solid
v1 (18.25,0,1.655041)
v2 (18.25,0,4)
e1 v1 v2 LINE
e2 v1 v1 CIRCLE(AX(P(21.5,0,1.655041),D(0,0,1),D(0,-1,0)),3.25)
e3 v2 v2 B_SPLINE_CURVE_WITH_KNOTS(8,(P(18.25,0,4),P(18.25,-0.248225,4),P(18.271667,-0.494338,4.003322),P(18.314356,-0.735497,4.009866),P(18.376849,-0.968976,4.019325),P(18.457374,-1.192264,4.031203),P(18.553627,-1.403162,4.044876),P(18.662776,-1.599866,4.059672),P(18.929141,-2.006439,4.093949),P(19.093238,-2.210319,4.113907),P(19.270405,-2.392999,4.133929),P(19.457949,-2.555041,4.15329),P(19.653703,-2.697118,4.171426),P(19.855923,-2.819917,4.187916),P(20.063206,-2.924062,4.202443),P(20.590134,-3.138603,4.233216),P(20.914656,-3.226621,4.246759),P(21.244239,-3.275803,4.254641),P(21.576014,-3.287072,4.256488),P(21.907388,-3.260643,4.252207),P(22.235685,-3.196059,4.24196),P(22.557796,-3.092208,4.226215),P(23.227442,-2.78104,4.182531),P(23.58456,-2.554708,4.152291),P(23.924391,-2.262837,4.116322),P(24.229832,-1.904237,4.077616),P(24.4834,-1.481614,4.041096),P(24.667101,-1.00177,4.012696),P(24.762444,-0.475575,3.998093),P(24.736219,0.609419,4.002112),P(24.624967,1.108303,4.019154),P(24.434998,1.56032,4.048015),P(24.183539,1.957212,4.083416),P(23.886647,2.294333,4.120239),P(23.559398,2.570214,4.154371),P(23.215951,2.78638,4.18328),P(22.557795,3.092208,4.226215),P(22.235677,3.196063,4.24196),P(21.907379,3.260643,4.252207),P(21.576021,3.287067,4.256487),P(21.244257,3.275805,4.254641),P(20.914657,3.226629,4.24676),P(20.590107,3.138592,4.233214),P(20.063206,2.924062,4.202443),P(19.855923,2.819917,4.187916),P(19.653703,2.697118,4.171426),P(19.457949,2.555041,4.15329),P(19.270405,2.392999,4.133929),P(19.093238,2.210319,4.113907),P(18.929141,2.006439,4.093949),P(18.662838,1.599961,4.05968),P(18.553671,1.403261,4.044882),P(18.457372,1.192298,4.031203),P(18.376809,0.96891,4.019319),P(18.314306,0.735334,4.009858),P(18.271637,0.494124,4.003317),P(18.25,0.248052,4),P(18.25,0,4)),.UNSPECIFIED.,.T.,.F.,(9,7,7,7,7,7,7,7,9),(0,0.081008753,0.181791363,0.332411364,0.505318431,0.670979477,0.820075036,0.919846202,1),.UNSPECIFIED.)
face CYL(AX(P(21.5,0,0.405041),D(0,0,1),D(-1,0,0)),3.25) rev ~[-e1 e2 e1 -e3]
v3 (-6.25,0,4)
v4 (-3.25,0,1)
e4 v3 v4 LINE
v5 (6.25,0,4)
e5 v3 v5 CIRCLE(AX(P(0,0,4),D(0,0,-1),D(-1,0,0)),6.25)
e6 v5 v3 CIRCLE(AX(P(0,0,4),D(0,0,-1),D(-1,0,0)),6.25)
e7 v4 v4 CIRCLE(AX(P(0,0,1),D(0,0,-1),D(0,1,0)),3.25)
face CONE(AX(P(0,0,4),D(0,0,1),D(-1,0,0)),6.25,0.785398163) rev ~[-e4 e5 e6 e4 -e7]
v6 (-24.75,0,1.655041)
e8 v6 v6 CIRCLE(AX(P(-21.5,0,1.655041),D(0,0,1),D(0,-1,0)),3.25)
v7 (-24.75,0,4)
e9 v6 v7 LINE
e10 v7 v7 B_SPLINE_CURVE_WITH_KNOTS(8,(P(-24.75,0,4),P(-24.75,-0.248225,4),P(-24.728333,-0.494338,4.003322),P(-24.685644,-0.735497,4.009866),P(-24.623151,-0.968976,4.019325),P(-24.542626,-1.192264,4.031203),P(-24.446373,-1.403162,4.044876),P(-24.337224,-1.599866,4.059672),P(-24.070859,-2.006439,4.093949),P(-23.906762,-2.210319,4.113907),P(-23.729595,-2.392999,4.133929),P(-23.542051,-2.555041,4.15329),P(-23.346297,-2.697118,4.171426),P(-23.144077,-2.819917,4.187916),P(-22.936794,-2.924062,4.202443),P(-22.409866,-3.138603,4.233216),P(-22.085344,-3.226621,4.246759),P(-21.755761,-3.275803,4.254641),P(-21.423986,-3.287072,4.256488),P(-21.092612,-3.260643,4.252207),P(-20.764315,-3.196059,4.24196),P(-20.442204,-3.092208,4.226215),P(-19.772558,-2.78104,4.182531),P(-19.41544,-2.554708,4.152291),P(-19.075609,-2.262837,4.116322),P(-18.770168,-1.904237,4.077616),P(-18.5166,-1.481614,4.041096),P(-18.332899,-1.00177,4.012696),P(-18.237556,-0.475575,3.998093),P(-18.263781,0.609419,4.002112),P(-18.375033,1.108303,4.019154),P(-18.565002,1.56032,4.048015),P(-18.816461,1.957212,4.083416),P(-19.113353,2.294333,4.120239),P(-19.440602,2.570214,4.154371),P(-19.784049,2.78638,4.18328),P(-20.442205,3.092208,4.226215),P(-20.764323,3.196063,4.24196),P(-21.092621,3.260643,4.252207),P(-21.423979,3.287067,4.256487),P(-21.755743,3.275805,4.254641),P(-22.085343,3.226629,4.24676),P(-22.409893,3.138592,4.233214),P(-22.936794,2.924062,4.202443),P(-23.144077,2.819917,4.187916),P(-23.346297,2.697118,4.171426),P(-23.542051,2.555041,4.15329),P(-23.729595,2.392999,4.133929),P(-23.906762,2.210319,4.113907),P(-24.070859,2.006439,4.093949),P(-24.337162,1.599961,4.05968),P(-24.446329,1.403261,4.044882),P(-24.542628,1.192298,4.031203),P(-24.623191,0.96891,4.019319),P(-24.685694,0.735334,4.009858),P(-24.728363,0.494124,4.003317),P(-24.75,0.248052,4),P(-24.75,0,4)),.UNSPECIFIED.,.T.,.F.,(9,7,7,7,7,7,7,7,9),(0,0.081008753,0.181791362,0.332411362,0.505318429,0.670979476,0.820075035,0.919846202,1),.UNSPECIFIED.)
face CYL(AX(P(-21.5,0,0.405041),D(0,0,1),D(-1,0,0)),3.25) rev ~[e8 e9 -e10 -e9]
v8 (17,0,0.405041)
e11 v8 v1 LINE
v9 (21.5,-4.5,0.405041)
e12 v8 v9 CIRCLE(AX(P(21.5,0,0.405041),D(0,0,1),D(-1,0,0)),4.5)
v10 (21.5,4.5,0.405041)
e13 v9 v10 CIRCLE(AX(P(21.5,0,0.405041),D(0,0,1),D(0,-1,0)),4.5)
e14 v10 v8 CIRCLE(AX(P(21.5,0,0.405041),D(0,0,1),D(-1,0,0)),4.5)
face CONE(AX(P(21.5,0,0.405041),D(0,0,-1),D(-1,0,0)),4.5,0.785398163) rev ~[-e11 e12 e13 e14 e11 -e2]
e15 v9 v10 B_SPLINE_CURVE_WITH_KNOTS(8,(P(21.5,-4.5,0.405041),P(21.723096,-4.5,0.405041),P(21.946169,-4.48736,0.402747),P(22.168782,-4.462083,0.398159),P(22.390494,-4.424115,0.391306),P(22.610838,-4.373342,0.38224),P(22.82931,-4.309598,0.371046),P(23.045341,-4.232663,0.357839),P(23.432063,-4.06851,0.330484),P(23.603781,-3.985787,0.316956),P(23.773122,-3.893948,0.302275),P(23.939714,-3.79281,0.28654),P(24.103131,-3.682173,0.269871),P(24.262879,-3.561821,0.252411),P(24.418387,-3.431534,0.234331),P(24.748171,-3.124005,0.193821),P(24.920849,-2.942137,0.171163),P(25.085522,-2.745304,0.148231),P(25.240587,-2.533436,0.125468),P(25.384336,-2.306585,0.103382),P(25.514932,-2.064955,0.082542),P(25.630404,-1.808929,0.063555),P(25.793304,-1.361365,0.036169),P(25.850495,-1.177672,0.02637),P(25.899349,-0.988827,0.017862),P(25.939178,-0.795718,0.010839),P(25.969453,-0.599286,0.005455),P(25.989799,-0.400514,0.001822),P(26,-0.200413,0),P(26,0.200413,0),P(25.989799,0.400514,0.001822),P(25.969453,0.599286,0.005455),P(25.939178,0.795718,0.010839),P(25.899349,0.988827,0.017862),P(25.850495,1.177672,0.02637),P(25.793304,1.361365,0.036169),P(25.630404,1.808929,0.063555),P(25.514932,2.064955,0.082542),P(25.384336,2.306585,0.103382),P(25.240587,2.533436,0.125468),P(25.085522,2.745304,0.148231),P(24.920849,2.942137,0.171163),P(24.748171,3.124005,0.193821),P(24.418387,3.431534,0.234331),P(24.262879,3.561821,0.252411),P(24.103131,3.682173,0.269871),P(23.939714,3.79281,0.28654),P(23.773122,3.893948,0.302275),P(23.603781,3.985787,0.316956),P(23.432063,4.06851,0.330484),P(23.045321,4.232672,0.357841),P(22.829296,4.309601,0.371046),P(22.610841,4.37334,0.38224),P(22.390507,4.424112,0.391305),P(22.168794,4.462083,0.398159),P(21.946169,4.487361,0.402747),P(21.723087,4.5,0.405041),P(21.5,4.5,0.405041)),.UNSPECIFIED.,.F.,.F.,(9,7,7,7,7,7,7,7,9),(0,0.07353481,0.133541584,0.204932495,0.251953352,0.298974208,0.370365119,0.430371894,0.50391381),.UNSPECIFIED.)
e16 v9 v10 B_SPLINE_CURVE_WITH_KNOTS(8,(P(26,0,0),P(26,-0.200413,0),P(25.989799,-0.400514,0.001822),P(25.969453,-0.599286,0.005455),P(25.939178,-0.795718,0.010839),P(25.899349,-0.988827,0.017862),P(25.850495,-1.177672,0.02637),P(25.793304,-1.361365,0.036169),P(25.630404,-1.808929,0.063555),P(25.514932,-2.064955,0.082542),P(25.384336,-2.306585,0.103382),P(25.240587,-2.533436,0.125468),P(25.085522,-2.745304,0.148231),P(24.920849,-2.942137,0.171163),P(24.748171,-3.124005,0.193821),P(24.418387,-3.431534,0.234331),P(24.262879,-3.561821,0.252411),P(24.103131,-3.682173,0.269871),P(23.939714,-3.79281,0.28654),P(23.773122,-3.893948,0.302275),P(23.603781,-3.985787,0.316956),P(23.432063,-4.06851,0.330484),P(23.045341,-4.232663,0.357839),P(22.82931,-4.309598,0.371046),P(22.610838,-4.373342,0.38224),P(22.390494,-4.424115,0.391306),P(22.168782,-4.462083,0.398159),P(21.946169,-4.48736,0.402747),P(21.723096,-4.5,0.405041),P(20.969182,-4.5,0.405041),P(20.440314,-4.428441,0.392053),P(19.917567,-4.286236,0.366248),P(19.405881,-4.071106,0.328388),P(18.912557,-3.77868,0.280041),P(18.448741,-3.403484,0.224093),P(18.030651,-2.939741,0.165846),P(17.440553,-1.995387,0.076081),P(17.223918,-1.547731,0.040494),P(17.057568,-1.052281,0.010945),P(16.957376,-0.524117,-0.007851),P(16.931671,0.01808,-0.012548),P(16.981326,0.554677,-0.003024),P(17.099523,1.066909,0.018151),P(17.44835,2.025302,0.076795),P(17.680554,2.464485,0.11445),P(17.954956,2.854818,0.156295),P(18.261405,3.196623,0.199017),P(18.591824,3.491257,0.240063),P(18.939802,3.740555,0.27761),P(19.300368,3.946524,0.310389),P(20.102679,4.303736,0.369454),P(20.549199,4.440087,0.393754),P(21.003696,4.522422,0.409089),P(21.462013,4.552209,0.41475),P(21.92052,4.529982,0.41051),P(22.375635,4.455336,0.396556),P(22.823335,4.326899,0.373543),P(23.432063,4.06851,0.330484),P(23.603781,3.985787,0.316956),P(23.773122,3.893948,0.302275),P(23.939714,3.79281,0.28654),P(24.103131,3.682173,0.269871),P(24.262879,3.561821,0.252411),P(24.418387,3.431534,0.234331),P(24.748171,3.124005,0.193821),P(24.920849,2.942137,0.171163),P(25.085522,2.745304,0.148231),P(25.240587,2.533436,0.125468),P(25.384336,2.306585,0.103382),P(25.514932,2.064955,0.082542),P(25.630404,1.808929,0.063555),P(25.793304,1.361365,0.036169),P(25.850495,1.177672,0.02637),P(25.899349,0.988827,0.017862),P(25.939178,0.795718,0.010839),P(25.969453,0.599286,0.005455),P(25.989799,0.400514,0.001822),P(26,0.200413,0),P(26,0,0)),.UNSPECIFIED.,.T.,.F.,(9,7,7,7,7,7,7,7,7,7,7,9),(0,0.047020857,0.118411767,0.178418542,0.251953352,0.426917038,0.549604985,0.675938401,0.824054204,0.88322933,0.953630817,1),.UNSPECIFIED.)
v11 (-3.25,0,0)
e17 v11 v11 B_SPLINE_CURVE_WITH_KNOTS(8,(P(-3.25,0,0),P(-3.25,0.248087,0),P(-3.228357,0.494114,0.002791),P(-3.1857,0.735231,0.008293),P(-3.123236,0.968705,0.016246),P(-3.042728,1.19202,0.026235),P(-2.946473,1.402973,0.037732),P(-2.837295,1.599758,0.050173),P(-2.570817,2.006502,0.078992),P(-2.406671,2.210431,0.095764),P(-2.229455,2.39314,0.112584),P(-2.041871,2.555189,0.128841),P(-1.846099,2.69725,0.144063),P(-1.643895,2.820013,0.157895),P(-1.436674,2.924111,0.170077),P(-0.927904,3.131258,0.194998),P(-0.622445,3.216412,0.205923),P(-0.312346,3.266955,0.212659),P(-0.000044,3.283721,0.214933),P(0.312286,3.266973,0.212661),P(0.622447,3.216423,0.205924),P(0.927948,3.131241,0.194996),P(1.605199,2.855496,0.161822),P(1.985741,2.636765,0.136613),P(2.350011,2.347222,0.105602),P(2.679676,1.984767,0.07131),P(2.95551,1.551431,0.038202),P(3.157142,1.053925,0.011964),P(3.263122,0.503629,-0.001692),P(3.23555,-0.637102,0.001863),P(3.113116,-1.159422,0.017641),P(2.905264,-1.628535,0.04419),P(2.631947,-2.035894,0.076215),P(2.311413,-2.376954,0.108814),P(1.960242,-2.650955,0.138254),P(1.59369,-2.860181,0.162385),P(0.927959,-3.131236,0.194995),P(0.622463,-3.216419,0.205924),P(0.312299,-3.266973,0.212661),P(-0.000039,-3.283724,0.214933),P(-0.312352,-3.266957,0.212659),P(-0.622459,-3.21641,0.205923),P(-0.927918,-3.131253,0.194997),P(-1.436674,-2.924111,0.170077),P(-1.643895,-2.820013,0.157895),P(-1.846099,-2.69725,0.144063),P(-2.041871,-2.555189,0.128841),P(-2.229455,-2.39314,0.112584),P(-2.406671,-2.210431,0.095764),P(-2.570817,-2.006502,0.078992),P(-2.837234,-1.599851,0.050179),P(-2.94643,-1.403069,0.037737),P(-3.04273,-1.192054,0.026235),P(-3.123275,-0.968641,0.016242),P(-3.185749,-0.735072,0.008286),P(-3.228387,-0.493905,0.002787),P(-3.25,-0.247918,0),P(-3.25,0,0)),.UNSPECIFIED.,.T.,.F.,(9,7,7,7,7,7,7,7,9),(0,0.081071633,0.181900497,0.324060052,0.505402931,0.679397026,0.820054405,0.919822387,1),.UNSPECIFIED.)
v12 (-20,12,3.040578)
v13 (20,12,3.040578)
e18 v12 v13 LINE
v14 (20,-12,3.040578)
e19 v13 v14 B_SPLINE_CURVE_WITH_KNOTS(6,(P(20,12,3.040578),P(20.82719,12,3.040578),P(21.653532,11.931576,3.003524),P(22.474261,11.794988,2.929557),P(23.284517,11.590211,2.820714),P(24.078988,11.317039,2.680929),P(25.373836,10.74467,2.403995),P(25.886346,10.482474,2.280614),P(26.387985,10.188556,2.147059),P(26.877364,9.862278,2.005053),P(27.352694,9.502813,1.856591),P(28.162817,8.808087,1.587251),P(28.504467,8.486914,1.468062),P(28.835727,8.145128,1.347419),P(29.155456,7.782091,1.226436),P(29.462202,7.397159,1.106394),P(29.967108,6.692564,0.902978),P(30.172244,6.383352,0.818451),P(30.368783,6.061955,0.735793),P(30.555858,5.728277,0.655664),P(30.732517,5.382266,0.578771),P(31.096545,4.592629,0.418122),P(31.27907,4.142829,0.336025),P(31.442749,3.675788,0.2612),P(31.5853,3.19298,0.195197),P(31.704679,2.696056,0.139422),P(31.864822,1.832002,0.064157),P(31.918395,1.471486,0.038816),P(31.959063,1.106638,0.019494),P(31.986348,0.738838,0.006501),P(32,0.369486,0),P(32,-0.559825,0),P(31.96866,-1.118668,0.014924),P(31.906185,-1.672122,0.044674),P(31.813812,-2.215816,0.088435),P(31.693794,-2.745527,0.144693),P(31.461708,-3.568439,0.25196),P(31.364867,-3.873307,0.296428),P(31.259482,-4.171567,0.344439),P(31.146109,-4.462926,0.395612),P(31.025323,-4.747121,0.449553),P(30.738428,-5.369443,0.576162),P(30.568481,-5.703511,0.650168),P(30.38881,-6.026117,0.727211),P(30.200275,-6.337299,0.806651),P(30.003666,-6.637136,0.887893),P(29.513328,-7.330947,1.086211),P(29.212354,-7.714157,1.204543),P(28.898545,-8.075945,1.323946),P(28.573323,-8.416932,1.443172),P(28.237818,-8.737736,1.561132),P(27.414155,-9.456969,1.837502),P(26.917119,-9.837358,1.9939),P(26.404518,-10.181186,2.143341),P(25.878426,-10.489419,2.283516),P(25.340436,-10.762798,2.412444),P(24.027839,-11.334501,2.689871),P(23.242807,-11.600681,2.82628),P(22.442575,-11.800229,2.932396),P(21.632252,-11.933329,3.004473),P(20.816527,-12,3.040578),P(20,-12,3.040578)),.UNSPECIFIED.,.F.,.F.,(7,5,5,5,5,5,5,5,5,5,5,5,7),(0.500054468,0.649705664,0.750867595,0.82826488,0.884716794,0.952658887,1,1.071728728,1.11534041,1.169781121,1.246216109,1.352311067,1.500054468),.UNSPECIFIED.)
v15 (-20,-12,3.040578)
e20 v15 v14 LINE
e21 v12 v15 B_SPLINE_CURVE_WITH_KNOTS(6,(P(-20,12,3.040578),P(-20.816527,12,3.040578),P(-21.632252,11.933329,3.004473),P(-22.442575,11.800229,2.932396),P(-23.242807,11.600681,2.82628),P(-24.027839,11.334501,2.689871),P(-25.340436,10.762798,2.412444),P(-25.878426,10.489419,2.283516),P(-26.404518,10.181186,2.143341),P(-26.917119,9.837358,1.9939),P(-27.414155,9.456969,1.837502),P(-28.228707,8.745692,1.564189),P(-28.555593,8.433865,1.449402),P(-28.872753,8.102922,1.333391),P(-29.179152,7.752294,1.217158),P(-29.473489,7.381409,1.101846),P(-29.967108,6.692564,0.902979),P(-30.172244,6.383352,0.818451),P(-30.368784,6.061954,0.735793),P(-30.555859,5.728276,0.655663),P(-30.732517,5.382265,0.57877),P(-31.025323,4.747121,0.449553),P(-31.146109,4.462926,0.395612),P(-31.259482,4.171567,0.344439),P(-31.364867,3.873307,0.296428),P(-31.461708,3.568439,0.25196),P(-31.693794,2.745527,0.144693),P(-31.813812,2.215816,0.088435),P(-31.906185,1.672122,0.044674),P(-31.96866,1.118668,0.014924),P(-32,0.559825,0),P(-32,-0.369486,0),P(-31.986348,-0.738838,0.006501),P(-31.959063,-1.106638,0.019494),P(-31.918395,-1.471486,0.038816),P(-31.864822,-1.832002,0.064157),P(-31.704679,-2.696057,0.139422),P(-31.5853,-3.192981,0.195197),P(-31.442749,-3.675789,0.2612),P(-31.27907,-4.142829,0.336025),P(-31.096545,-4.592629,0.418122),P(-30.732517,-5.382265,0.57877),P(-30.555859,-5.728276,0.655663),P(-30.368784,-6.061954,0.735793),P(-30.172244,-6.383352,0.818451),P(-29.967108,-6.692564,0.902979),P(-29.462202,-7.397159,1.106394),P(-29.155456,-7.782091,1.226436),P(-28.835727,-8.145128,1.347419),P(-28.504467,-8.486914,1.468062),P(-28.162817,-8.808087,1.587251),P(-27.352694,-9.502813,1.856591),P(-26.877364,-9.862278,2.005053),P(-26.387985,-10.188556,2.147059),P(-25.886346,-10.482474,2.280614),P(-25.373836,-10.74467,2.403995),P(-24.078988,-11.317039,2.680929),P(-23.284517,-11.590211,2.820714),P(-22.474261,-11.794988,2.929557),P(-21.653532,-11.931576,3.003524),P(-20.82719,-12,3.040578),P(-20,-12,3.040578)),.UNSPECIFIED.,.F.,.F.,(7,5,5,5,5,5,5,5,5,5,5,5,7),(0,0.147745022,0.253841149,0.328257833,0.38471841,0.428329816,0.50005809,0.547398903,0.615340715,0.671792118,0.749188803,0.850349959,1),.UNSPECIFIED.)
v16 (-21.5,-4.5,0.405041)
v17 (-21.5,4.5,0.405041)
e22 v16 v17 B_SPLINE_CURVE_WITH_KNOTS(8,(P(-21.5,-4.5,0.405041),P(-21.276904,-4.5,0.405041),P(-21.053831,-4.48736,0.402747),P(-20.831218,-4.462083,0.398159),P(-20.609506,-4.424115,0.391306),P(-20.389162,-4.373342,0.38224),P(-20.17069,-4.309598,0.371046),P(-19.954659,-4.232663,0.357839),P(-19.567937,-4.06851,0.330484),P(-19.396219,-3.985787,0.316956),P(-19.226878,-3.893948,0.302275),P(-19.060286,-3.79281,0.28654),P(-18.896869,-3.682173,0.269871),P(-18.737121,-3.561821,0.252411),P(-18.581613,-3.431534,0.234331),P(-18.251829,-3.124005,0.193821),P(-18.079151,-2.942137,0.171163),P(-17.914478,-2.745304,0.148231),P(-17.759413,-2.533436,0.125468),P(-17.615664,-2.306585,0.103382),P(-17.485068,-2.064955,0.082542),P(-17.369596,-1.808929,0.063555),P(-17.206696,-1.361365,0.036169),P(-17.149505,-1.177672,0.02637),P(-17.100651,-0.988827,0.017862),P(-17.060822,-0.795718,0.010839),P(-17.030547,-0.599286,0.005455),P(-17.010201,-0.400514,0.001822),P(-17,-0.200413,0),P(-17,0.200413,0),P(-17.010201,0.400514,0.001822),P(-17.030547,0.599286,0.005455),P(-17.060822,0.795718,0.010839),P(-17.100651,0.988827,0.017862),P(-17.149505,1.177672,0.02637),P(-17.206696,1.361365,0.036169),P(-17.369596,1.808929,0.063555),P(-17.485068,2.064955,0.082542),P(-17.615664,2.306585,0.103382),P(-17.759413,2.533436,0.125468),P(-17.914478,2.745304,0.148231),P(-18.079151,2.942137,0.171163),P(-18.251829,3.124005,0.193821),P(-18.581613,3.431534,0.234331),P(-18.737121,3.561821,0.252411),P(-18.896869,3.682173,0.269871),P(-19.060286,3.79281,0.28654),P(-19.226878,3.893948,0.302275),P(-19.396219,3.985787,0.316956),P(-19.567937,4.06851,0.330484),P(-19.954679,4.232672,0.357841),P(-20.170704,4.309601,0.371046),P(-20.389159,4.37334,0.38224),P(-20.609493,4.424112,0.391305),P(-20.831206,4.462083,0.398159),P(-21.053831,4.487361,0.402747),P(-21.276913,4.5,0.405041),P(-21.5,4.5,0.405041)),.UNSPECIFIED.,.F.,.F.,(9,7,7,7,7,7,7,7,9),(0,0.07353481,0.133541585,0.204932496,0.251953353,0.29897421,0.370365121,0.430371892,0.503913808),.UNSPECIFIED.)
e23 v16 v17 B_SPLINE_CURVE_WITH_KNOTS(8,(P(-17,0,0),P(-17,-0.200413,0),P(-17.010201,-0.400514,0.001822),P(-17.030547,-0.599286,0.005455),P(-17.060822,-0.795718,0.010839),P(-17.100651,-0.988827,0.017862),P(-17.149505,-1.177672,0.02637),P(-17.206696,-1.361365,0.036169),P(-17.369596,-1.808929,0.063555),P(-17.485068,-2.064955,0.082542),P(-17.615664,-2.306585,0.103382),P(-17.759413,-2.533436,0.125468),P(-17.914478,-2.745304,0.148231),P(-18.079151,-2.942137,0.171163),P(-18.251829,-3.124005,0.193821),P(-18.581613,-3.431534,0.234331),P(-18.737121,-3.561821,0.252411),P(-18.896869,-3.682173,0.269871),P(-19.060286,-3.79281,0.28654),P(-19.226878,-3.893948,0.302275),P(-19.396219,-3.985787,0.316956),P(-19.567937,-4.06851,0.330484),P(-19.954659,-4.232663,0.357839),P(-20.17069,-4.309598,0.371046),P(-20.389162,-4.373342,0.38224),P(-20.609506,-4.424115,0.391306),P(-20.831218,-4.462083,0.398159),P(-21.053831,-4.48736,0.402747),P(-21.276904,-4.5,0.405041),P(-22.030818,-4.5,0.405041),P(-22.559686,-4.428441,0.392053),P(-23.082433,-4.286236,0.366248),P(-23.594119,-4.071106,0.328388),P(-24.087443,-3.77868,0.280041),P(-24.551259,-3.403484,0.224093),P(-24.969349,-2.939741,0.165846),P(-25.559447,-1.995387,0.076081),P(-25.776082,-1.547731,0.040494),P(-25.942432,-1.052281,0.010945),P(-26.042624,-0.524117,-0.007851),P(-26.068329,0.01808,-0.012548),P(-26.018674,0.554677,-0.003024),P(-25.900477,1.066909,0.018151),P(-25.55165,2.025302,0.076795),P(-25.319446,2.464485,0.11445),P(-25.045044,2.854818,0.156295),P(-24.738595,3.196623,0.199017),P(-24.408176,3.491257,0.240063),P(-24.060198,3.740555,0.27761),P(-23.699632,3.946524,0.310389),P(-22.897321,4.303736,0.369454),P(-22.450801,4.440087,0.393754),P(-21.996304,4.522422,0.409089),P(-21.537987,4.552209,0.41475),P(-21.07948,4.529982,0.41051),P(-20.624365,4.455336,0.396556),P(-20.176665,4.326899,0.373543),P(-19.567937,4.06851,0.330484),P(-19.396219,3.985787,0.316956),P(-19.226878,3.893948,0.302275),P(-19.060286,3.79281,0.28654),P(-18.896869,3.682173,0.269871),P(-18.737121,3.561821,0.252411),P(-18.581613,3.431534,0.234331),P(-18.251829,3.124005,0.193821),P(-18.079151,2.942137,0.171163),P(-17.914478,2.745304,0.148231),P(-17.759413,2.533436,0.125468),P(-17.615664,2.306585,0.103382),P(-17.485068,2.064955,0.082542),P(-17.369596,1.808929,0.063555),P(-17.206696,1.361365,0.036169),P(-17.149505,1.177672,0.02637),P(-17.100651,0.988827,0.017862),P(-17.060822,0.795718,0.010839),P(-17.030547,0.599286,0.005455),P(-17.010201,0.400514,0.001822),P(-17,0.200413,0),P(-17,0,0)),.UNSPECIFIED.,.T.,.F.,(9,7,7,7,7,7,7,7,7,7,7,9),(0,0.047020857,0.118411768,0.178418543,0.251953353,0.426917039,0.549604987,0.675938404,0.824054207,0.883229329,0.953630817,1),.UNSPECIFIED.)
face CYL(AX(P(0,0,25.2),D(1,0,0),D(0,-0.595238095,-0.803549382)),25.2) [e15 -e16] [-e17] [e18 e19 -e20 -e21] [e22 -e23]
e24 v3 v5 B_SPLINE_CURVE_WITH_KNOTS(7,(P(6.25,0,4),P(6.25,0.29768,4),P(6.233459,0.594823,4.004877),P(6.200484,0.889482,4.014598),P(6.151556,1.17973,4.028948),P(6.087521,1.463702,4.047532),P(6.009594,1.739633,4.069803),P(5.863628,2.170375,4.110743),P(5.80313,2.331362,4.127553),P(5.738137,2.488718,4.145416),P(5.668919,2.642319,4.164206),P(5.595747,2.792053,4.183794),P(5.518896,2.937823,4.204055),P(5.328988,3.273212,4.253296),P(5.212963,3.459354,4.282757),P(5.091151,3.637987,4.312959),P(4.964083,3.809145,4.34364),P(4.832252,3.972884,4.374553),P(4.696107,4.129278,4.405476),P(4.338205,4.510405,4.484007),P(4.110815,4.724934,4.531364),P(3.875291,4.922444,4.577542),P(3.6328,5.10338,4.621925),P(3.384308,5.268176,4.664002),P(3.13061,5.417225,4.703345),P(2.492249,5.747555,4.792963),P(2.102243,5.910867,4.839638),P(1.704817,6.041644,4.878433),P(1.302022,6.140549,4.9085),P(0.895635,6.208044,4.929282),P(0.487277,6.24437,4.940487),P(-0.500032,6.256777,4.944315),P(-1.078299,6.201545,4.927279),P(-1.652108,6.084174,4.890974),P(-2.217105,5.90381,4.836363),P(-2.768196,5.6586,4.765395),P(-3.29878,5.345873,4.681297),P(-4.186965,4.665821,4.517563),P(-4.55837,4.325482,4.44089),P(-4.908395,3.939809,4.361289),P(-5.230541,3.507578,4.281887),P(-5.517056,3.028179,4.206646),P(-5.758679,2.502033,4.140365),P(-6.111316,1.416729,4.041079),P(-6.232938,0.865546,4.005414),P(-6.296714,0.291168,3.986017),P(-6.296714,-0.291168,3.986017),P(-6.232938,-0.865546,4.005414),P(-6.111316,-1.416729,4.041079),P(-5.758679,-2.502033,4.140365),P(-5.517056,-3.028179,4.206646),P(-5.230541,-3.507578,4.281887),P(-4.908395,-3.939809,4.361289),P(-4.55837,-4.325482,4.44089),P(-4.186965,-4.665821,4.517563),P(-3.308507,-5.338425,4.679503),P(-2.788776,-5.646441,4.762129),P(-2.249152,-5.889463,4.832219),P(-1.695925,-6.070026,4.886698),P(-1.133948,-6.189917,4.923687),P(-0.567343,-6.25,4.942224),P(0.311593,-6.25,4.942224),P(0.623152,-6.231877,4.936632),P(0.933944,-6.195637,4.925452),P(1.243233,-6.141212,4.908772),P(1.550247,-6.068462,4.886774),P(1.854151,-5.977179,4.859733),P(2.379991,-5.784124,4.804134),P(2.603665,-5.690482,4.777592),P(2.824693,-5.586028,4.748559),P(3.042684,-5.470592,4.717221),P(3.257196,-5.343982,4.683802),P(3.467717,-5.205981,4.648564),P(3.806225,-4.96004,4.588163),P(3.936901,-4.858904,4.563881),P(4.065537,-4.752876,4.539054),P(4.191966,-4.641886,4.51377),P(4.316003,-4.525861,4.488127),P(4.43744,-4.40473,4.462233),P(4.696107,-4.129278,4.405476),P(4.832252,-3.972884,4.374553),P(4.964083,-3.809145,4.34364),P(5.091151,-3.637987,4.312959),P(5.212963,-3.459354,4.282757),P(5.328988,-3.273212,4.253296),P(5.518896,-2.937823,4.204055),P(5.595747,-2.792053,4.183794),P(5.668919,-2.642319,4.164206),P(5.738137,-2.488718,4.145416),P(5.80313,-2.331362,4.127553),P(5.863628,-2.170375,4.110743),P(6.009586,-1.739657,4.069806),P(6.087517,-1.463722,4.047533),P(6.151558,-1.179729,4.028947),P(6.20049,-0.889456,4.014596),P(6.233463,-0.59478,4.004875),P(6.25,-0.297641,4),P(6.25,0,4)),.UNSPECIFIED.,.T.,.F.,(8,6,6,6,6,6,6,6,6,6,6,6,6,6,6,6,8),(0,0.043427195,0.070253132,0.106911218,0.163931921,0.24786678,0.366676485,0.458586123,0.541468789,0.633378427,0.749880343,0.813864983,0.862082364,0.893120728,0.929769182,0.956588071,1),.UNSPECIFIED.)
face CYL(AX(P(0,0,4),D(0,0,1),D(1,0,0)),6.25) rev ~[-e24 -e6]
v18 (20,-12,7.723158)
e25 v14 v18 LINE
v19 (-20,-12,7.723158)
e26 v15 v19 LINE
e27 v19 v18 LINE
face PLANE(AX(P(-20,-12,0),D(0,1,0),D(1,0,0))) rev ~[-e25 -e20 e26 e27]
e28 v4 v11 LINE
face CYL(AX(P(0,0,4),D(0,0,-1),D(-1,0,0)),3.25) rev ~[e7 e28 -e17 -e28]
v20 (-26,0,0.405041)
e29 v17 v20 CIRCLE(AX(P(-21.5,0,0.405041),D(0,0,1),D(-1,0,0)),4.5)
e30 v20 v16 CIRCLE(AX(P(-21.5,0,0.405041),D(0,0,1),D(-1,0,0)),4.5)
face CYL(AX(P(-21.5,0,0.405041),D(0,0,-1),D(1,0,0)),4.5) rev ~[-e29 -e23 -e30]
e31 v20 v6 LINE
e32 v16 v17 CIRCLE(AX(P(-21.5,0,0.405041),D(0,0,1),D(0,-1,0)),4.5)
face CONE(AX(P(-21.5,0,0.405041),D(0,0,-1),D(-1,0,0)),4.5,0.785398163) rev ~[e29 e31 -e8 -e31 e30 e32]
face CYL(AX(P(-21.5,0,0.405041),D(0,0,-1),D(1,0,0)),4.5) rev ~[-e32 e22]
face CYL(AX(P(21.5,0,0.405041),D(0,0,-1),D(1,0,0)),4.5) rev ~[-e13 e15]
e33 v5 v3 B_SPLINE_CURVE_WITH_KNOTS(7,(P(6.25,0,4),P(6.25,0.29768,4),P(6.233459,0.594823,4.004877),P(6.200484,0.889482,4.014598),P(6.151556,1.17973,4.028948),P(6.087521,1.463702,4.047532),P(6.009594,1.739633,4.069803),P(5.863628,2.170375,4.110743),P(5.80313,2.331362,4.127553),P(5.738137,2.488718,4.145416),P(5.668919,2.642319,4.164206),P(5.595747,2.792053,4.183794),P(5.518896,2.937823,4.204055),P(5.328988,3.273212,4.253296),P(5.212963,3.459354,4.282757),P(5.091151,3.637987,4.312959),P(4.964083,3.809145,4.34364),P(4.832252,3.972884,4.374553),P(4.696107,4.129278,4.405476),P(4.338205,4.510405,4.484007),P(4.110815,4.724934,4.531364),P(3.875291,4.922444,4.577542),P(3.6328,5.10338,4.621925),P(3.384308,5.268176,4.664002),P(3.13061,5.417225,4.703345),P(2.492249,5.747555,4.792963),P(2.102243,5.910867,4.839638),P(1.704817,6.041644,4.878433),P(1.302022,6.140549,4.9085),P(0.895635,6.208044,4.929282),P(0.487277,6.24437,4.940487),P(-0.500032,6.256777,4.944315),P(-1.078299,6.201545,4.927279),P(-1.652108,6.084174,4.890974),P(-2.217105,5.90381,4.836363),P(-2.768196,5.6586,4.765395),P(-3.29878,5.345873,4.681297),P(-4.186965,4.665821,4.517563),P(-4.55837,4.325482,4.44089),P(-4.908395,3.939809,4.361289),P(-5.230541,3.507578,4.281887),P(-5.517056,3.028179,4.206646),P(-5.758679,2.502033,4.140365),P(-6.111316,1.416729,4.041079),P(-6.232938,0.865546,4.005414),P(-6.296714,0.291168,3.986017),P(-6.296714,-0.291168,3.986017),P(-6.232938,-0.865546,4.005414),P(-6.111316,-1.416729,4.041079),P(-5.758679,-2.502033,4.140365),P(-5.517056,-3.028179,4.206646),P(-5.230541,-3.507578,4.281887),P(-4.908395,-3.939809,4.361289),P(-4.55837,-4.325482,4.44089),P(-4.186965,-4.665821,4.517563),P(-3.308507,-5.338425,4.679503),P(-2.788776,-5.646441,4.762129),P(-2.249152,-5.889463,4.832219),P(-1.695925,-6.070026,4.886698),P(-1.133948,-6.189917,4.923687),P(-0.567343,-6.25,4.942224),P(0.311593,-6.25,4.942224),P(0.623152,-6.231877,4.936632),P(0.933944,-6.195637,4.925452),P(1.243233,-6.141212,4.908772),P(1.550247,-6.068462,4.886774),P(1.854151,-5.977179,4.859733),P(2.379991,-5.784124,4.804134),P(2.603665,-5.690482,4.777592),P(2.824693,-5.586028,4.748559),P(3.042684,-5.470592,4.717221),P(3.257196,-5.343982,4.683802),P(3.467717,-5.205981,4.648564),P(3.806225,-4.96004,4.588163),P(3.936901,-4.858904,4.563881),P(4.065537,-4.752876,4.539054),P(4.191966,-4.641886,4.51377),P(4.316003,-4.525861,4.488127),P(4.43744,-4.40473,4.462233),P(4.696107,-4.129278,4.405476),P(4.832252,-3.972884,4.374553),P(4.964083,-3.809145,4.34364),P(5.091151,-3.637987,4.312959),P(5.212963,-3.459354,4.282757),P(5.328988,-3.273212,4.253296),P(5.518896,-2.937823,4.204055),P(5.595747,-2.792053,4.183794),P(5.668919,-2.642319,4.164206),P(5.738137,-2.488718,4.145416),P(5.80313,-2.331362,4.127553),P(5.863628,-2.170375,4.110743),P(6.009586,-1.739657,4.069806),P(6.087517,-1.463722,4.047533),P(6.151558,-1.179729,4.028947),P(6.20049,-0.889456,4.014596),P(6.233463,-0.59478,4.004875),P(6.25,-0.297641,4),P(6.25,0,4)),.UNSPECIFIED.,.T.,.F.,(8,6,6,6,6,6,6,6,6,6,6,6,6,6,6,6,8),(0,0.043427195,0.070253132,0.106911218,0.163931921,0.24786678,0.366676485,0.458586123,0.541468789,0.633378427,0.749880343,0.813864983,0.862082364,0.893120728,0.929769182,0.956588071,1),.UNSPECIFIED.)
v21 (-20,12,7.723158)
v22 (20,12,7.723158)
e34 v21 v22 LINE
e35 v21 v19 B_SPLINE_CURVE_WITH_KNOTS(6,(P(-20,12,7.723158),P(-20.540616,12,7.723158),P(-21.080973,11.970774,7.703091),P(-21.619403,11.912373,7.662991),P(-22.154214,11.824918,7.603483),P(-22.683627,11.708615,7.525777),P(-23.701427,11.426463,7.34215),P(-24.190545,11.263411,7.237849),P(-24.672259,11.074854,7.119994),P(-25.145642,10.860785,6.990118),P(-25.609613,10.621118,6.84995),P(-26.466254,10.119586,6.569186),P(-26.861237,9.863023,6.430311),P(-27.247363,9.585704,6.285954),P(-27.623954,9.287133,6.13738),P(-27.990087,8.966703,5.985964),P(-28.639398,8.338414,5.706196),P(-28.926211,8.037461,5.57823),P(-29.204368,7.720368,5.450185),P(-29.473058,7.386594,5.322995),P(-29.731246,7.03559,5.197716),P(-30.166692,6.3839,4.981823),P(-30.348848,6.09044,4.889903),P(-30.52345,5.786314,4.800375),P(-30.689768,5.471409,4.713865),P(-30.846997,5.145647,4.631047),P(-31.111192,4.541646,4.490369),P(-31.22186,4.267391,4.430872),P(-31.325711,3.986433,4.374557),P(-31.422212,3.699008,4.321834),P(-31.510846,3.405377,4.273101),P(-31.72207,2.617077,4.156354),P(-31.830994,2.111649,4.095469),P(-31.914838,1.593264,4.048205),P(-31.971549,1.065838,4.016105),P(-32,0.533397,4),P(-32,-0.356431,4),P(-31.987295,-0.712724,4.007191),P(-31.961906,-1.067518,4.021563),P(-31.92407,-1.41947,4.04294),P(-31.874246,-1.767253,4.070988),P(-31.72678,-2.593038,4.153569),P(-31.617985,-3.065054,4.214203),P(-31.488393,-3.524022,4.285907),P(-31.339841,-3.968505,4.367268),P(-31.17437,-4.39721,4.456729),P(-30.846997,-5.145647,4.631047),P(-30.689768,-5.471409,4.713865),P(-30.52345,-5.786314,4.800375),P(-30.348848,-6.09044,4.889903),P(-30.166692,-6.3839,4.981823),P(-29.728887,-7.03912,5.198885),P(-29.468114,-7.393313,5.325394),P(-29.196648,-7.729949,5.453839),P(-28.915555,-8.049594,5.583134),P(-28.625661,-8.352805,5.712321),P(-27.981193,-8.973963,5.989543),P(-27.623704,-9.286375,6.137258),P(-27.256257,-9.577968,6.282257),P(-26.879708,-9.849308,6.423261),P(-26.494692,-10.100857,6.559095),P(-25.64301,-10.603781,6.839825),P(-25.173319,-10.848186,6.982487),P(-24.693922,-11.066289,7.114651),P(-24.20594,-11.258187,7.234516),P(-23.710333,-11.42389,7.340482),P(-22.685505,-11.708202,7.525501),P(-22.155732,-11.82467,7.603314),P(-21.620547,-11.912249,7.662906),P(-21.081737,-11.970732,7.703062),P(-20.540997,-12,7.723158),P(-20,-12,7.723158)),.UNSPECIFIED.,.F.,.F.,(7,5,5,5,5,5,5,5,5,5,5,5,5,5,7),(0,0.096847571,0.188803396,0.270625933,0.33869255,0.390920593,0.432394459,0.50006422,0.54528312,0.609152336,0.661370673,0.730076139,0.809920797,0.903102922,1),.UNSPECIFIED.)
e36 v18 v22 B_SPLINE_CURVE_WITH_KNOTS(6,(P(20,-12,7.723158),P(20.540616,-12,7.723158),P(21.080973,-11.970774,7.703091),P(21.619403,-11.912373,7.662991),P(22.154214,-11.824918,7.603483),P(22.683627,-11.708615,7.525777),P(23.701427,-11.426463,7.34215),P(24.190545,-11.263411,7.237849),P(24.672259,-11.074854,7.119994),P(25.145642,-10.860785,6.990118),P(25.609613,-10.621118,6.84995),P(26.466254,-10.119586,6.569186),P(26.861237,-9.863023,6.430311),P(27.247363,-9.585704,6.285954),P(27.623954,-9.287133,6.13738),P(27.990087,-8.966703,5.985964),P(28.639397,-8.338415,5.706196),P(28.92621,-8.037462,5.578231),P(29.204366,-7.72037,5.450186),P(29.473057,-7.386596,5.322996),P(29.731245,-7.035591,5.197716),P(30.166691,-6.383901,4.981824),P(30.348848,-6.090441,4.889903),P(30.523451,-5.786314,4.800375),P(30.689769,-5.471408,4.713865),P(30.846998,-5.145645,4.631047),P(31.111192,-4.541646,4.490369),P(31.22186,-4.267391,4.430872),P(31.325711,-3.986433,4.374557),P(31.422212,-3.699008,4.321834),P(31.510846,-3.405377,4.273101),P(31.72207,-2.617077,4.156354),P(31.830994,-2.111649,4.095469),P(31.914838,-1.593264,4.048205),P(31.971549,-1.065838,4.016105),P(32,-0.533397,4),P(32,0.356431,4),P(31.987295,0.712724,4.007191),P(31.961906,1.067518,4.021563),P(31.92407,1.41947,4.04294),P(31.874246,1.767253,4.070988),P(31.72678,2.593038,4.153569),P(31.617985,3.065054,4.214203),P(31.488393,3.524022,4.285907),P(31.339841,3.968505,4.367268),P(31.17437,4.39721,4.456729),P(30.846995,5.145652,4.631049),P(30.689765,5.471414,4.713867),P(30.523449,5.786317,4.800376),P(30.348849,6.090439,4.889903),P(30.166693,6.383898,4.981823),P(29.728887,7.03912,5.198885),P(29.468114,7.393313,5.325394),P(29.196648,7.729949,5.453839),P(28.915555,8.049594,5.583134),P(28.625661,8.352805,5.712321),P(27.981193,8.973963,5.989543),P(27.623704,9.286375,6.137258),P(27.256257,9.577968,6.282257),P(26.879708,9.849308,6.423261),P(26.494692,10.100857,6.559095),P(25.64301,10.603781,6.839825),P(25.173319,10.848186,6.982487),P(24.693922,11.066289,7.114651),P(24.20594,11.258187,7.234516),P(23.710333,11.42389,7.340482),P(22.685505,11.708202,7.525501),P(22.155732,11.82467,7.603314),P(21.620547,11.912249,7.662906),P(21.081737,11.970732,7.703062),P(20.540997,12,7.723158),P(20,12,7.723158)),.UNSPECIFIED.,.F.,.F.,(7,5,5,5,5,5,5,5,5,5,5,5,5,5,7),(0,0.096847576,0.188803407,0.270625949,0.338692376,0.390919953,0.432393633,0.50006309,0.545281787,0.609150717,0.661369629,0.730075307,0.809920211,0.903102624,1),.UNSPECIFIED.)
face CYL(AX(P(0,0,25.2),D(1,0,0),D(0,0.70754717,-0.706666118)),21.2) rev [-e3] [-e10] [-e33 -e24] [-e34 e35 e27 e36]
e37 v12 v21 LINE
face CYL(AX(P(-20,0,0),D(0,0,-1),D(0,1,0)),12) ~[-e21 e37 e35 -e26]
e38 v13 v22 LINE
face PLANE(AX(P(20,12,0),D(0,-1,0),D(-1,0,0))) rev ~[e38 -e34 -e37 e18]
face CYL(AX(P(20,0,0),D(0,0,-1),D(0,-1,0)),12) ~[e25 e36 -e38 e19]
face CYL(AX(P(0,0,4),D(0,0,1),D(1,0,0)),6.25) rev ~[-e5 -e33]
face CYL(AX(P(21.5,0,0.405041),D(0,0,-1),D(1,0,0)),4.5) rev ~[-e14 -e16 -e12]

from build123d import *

# Parameters (mm, degrees)
F1_DEPTH       = 20
F3_DEPTH       = 40
F5_D           = 6.5
F5_START       = 0.4050409
F5_CSINK_D     = 9
F5_CSINK_ANGLE = 90
F8_D           = 6.5
F8_START       = 1.0000001
F8_CSINK_D     = 12.5
F8_CSINK_ANGLE = 90


with BuildPart() as f1:
    # F0 (on Top) → F1 (new body)
    with BuildSketch(Plane.XY):
        with BuildLine():
            ThreePointArc((-20, 12), (-32, 0), (-20, -12))
            Line((-20, -12), (20, -12))
            ThreePointArc((20, -12), (32, 0), (20, 12))
            Line((20, 12), (-20, 12))
        make_face()
    extrude(amount=F1_DEPTH)

    # F2 (on Right) → F3 (intersect, symmetric)
    with BuildSketch(Plane.YZ):
        with BuildLine():
            ThreePointArc((15, 10.218678296), (0, 4), (-15, 10.218678296))
            Line((-15, 10.218678296), (-15, 4.9505555632))
            ThreePointArc((-15, 4.9505555632), (0, 0), (15, 4.9505555632))
            Line((15, 4.9505555632), (15, 10.218678296))
        make_face()
    extrude(amount=F3_DEPTH, both=True, mode=Mode.INTERSECT)

    # F5 (through all)
    # its depths count from where the whole tool has entered the part; down to there all is cleared
    with Locations(Plane(origin=(0, 0, 0), x_dir=(1, 0, 0), z_dir=(0, 0, -1)).offset(-F5_START)):
        with Locations((-21.5, 0), (21.5, 0)):
            CounterSinkHole(F5_D / 2, F5_CSINK_D / 2, counter_sink_angle=F5_CSINK_ANGLE)

    # F8 (through all)
    # its depths count from where the whole tool has entered the part; down to there all is cleared
    with Locations(Plane.XY.offset(5).offset(-F8_START)):
        with Locations((0, 0)):
            CounterSinkHole(F8_D / 2, F8_CSINK_D / 2, counter_sink_angle=F8_CSINK_ANGLE)


solid = f1.part
